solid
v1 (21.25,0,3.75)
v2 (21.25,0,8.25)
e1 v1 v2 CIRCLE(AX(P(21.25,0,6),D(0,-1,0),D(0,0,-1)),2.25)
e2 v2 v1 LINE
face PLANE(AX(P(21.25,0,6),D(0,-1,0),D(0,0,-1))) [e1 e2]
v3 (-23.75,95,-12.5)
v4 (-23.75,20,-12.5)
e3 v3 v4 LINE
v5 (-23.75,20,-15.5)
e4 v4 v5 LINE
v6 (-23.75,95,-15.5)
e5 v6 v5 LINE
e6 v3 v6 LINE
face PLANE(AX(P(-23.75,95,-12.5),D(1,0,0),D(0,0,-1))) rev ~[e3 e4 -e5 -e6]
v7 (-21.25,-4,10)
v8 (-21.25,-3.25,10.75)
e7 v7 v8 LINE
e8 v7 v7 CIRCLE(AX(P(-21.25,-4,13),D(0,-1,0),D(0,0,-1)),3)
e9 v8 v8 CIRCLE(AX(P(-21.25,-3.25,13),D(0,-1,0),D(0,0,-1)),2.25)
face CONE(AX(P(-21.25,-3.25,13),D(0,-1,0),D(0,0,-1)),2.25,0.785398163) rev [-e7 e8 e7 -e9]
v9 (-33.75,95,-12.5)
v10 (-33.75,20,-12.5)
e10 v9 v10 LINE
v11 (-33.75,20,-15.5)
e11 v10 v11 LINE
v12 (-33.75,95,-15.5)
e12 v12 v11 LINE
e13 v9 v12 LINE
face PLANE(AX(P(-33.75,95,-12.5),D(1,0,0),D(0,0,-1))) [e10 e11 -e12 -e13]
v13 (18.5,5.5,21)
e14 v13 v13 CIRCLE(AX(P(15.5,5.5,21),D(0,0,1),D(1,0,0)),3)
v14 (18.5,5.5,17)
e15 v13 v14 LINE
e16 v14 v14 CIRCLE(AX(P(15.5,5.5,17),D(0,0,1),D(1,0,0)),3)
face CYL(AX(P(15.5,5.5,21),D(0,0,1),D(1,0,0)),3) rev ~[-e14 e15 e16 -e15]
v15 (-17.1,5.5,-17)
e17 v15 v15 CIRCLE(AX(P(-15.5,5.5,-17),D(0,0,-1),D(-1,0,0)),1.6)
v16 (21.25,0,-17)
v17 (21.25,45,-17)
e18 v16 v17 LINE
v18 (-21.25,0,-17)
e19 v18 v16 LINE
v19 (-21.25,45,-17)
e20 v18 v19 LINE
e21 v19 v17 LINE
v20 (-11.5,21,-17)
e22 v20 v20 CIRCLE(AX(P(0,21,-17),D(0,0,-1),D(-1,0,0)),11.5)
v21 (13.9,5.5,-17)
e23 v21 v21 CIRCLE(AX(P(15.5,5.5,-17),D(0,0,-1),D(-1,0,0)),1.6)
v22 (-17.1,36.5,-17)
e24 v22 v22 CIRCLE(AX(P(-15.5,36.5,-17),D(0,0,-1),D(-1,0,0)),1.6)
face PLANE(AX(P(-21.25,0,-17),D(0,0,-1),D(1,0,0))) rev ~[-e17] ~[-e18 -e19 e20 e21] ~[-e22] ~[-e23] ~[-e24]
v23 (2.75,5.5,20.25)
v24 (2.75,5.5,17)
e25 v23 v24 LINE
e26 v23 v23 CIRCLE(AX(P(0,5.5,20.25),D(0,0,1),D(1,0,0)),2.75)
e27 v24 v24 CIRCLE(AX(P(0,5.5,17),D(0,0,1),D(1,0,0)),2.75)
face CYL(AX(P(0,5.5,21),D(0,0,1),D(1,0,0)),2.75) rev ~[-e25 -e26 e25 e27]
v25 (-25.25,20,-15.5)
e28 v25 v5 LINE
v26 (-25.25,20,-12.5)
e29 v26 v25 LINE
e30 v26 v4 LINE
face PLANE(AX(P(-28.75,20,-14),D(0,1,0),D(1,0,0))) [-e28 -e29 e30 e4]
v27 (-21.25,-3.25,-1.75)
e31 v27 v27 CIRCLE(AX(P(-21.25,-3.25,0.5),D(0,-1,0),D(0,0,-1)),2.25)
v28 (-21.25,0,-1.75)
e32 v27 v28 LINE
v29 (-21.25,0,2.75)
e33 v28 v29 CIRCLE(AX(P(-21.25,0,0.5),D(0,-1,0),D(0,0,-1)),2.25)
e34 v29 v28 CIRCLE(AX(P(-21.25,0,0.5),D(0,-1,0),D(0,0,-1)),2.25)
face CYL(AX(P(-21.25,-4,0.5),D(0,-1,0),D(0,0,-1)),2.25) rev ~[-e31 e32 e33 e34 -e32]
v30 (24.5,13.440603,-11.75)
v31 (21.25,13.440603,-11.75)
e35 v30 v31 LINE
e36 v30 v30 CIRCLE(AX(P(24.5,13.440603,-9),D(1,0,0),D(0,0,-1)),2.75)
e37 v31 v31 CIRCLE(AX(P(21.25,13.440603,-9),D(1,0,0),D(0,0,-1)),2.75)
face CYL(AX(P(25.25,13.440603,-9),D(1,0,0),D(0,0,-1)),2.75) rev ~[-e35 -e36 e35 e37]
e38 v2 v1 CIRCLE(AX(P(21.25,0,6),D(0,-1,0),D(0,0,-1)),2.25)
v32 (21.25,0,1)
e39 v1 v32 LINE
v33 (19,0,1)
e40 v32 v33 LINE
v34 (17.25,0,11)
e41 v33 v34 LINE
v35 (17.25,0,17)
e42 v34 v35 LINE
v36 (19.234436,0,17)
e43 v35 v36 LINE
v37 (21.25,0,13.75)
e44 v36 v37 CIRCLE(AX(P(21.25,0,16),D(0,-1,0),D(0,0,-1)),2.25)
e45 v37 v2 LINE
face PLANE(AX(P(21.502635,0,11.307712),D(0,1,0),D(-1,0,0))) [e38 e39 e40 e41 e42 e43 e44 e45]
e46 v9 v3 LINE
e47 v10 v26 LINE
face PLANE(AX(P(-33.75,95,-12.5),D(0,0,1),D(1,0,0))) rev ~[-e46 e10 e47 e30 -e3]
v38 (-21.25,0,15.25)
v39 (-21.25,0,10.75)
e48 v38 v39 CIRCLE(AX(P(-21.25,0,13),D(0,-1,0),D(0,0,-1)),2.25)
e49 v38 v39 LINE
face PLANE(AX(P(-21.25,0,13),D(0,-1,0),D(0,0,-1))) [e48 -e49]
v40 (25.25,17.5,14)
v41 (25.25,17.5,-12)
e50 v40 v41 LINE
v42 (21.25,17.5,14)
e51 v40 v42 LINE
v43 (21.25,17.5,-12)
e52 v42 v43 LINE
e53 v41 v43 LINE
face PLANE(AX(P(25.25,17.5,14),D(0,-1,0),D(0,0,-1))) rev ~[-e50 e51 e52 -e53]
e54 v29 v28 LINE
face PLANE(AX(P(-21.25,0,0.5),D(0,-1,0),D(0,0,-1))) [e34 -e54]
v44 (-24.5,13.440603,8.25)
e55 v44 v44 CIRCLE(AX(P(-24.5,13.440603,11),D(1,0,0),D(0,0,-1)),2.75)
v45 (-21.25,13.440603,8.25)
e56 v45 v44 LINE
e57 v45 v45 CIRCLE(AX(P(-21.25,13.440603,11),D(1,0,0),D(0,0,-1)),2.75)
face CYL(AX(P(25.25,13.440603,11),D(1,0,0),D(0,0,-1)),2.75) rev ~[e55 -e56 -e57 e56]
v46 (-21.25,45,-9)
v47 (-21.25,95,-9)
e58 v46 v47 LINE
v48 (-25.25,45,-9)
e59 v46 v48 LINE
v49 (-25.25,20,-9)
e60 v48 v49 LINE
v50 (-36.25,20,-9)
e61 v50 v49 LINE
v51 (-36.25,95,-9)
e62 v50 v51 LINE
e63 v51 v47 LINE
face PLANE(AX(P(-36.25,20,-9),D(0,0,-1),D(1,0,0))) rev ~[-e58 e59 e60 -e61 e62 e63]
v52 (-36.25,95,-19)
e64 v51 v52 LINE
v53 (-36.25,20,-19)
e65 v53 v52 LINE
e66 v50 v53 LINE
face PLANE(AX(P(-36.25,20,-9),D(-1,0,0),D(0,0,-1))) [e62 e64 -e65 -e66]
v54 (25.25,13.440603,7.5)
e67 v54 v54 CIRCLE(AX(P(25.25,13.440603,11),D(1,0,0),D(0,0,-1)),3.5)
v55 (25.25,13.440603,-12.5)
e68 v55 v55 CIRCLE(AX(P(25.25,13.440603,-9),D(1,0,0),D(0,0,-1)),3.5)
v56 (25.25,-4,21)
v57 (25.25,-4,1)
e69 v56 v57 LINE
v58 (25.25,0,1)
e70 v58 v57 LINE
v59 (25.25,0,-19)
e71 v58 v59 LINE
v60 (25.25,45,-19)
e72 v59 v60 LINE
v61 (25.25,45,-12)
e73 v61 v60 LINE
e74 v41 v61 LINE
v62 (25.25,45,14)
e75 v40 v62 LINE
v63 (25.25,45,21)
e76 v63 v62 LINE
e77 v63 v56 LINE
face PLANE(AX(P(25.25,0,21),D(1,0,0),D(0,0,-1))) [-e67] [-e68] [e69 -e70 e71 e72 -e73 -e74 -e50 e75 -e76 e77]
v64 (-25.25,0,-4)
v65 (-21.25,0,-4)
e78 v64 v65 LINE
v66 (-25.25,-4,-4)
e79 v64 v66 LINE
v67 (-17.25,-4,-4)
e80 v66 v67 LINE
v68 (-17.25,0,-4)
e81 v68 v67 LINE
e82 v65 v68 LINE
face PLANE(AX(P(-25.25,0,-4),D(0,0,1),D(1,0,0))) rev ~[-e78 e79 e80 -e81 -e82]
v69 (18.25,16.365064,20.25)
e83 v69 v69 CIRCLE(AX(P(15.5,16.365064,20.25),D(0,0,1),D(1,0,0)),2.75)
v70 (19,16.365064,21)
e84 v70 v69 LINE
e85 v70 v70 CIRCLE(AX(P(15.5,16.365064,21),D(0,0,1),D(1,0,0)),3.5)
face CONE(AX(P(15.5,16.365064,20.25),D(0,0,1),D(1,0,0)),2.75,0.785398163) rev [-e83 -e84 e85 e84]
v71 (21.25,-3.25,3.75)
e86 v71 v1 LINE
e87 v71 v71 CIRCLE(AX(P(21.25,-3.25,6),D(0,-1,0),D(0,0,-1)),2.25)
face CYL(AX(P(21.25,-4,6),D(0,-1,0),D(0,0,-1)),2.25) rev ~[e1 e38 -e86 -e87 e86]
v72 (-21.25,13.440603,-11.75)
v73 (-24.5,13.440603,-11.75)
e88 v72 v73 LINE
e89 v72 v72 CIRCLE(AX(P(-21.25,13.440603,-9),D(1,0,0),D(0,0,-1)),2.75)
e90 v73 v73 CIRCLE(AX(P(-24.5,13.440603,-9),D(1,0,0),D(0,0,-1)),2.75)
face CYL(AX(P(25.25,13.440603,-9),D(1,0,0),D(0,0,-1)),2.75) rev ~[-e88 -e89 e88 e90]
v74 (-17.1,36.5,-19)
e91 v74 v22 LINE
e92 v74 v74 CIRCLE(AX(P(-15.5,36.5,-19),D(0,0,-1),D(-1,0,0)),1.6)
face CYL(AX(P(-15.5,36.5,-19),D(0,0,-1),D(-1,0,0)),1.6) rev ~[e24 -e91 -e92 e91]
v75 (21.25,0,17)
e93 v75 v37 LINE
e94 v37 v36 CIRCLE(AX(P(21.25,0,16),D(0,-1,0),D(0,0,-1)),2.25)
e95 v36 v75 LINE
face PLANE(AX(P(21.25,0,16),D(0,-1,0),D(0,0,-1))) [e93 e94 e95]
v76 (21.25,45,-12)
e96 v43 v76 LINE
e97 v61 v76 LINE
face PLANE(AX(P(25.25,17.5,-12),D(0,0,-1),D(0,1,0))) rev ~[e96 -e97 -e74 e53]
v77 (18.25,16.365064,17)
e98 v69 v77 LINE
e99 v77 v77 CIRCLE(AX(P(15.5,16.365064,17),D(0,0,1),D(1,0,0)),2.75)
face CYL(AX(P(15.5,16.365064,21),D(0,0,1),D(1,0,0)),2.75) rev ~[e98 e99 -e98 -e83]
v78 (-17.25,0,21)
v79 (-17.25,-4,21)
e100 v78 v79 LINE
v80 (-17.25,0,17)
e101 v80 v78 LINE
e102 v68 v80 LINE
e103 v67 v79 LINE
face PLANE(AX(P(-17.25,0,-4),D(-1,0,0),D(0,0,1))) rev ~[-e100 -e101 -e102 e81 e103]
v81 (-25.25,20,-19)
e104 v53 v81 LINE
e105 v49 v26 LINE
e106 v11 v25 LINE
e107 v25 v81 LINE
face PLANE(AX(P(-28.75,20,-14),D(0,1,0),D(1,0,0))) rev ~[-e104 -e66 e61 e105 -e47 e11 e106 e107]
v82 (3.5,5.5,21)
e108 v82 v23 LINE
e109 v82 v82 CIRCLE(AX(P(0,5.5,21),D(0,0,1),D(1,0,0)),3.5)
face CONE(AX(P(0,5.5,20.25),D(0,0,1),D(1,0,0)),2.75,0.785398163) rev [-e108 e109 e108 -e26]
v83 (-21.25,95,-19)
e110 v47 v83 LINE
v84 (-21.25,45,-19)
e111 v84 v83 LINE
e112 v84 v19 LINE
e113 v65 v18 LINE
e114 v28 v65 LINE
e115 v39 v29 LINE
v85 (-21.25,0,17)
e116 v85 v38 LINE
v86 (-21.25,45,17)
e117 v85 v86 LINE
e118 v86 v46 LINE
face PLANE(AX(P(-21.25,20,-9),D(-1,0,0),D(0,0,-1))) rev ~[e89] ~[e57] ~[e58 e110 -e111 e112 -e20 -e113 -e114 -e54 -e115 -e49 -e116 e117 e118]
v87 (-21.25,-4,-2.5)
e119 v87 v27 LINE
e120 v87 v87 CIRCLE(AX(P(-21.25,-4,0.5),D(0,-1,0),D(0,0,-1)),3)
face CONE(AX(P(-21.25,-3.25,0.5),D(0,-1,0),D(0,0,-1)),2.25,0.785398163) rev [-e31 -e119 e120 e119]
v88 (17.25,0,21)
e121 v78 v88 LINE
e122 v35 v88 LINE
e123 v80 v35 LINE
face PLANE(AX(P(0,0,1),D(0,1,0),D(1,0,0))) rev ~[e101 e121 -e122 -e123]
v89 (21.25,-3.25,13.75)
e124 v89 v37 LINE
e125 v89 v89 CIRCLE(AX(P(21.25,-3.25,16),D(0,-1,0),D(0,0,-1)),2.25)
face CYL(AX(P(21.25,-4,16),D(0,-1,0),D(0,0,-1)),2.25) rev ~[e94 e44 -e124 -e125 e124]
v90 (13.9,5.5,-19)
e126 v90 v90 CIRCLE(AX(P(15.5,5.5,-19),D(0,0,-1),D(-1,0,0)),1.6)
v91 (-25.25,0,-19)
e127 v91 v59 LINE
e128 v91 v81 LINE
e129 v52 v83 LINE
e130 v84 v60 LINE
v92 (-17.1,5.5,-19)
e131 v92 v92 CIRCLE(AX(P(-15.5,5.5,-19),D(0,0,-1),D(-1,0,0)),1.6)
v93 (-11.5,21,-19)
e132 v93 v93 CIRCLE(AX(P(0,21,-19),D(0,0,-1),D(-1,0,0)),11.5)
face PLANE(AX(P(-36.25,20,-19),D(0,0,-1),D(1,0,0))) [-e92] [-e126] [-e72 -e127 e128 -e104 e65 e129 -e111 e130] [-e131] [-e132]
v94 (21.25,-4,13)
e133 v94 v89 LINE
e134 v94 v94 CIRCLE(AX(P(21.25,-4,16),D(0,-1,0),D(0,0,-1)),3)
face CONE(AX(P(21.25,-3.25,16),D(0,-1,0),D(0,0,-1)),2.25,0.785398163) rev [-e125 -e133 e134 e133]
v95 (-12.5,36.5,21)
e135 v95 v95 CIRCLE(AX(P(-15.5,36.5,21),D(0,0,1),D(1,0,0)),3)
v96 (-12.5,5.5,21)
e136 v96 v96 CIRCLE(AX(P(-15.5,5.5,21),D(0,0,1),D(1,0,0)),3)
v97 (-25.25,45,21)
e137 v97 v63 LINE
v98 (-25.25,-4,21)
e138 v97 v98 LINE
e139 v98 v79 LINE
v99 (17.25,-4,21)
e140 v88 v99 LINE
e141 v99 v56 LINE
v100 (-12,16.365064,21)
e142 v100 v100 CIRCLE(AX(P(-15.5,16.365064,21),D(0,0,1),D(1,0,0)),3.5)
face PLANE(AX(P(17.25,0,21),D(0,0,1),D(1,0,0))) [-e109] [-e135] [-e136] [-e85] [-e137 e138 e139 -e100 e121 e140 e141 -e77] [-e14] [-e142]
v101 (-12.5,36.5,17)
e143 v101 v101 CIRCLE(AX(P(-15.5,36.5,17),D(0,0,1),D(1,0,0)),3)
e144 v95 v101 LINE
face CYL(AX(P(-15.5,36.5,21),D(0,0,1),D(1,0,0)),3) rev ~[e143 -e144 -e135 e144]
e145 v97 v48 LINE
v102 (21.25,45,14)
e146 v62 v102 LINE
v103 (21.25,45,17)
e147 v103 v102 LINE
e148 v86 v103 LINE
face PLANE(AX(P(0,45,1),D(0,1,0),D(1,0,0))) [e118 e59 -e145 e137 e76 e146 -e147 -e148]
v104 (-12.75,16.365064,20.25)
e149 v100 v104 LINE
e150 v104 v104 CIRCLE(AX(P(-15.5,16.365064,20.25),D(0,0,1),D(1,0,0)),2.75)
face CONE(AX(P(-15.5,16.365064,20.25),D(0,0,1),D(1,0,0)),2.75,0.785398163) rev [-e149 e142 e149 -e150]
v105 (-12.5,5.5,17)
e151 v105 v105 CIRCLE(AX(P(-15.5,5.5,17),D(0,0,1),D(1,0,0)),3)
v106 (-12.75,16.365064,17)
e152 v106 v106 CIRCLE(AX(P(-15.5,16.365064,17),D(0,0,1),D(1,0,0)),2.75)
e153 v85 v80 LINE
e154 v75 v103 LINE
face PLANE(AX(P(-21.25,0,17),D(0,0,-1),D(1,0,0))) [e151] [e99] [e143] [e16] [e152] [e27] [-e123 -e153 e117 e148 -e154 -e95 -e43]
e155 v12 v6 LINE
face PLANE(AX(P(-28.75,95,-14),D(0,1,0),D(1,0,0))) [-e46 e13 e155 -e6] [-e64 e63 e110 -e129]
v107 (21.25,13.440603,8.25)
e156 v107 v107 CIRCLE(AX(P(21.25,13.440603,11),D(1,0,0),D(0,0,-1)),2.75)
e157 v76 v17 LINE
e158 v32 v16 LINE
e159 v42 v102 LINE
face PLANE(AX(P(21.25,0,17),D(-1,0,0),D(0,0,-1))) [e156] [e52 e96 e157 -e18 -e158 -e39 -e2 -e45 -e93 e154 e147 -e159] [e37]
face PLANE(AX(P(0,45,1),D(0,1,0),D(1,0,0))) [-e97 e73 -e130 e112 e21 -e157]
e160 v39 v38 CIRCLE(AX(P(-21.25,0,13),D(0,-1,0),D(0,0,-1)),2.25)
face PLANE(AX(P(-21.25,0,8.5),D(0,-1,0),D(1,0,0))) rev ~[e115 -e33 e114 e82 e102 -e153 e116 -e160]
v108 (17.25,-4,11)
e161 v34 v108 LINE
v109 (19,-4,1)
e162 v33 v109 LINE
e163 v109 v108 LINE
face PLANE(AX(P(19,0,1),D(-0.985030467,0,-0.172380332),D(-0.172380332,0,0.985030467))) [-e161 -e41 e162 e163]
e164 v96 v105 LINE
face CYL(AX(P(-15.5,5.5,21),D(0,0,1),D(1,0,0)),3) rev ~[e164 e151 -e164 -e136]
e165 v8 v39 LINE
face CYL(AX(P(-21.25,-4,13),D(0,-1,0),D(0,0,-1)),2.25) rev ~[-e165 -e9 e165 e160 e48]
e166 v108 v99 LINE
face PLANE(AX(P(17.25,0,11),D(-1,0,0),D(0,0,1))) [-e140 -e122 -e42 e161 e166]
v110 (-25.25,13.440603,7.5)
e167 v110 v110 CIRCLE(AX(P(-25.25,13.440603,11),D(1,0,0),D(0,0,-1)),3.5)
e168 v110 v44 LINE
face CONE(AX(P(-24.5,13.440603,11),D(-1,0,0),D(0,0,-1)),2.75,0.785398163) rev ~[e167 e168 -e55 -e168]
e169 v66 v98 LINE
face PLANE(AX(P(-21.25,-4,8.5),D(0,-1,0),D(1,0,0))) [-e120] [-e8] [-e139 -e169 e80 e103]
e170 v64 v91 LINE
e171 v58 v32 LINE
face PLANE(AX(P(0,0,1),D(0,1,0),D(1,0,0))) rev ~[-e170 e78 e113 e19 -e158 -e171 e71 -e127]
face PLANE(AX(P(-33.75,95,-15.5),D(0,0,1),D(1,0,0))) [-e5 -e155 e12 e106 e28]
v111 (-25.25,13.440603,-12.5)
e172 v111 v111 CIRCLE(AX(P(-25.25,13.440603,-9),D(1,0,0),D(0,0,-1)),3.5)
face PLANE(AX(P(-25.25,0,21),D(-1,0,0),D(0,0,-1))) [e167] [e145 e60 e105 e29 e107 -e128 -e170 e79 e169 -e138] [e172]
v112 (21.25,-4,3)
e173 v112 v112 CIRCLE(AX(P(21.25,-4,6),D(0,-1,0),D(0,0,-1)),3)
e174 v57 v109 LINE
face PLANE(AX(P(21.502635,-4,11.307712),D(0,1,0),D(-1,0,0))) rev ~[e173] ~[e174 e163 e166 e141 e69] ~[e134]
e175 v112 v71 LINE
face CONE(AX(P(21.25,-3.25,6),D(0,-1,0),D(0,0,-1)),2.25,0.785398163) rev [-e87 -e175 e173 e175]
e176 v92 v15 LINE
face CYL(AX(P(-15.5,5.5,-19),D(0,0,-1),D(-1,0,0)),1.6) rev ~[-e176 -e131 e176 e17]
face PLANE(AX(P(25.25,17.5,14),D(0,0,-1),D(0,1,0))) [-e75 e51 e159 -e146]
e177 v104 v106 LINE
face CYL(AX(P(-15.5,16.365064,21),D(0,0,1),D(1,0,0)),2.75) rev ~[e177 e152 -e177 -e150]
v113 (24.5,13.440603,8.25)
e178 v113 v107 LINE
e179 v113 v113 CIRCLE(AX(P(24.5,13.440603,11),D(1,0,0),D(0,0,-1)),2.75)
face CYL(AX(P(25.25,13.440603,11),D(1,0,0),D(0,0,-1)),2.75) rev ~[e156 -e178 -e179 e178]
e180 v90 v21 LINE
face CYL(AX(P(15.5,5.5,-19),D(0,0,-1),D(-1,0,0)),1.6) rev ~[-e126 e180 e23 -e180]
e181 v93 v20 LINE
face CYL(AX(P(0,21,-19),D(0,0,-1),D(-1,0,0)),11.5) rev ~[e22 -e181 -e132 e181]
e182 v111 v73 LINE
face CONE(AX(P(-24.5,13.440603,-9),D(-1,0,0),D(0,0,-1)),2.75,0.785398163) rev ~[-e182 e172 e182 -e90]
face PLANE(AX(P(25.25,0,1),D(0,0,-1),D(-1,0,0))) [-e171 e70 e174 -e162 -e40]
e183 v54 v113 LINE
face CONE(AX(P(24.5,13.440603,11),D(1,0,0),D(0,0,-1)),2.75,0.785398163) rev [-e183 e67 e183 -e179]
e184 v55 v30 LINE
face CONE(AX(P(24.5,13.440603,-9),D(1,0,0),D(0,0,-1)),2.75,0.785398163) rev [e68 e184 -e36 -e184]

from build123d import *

# Parameters (mm, degrees)
SKETCH2_W                = 50.5
SKETCH2_H                = 40
SKETCH2_W_2              = 42.5
SKETCH2_H_2              = 34
BOSS_EXTRUDE1_DEPTH      = 45
CUT_EXTRUDE1_REACH       = 72.825
SKETCH3_W                = 26
SKETCH3_H                = 27.5
CUT_EXTRUDE2_REACH       = 67.288
SKETCH4_R                = 11.5
SKETCH4_R_2              = 1.6
CUT_EXTRUDE3_REACH       = 67.288
SKETCH5_R                = 3
CUT_EXTRUDE4_REACH       = 67.288
SKETCH6_R                = 2.75
SKETCH7_R                = 2.75
CUT_EXTRUDE5_DEPTH       = 71.825489762
SKETCH8_W                = 8
SKETCH8_H                = 25
BOSS_EXTRUDE2_DEPTH      = 4
SKETCH9_R                = 2.25
CUT_EXTRUDE6_DEPTH       = 4
CHAMFER1_SIZE            = 0.75
BOSS_EXTRUDE3_DEPTH      = 50
BOSS_EXTRUDE3_DEPTH_BACK = 25
SKETCH10_W               = 15
SKETCH10_H               = 10
SKETCH11_W               = 10
SKETCH11_H               = 3
CUT_EXTRUDE7_DEPTH       = 75


with BuildPart() as part:
    # Sketch2 → Boss-Extrude1 (new body)
    with BuildSketch(Plane(origin=(0, 0, 0), x_dir=(1, 0, 0), z_dir=(0, 1, 0))):
        with Locations((0, -1)):
            Rectangle(SKETCH2_W, SKETCH2_H)
        Rectangle(SKETCH2_W_2, SKETCH2_H_2, mode=Mode.SUBTRACT)
    extrude(amount=BOSS_EXTRUDE1_DEPTH)

    # Sketch3 → Cut-Extrude1 (cut, up to next)
    with BuildSketch(Plane(origin=(25.25, 0, 0), x_dir=(0, 0, -1), z_dir=(1, 0, 0)), mode=Mode.PRIVATE) as cut_extrude1_sk1:
        with Locations((-1, 31.25)):
            Rectangle(SKETCH3_W, SKETCH3_H)
    cut_extrude1_tool1 = extrude(cut_extrude1_sk1.sketch, amount=-CUT_EXTRUDE1_REACH, mode=Mode.PRIVATE) & part.part
    add(cut_extrude1_tool1.solids().sort_by_distance((25.25, 31.25, 1))[0], mode=Mode.SUBTRACT)

    # Sketch4 → Cut-Extrude2 (cut, up to next)
    with BuildSketch(Plane(origin=(0, 0, -19), x_dir=(-1, 0, 0), z_dir=(0, 0, -1)), mode=Mode.PRIVATE) as cut_extrude2_sk1:
        with Locations((0, 21)):
            Circle(SKETCH4_R)
    cut_extrude2_tool1 = extrude(cut_extrude2_sk1.sketch, amount=-CUT_EXTRUDE2_REACH, mode=Mode.PRIVATE) & part.part
    # Sketch4 → Cut-Extrude2 (cut, up to next)
    with BuildSketch(Plane(origin=(0, 0, -19), x_dir=(-1, 0, 0), z_dir=(0, 0, -1)), mode=Mode.PRIVATE) as cut_extrude2_sk2:
        with Locations((-15.5, 5.5)):
            Circle(SKETCH4_R_2)
    cut_extrude2_tool2 = extrude(cut_extrude2_sk2.sketch, amount=-CUT_EXTRUDE2_REACH, mode=Mode.PRIVATE) & part.part
    # Sketch4 → Cut-Extrude2 (cut, up to next)
    with BuildSketch(Plane(origin=(0, 0, -19), x_dir=(-1, 0, 0), z_dir=(0, 0, -1)), mode=Mode.PRIVATE) as cut_extrude2_sk3:
        with Locations((15.5, 5.5)):
            Circle(SKETCH4_R_2)
    cut_extrude2_tool3 = extrude(cut_extrude2_sk3.sketch, amount=-CUT_EXTRUDE2_REACH, mode=Mode.PRIVATE) & part.part
    # Sketch4 → Cut-Extrude2 (cut, up to next)
    with BuildSketch(Plane(origin=(0, 0, -19), x_dir=(-1, 0, 0), z_dir=(0, 0, -1)), mode=Mode.PRIVATE) as cut_extrude2_sk4:
        with Locations((15.5, 36.5)):
            Circle(SKETCH4_R_2)
    cut_extrude2_tool4 = extrude(cut_extrude2_sk4.sketch, amount=-CUT_EXTRUDE2_REACH, mode=Mode.PRIVATE) & part.part
    add(cut_extrude2_tool1.solids().sort_by_distance((0, 21, -19))[0], mode=Mode.SUBTRACT)
    add(cut_extrude2_tool2.solids().sort_by_distance((15.5, 5.5, -19))[0], mode=Mode.SUBTRACT)
    add(cut_extrude2_tool3.solids().sort_by_distance((-15.5, 5.5, -19))[0], mode=Mode.SUBTRACT)
    add(cut_extrude2_tool4.solids().sort_by_distance((-15.5, 36.5, -19))[0], mode=Mode.SUBTRACT)

    # Sketch5 → Cut-Extrude3 (cut, up to next)
    with BuildSketch(Plane.XY.offset(21), mode=Mode.PRIVATE) as cut_extrude3_sk1:
        with Locations((-15.5, 36.5)):
            Circle(SKETCH5_R)
    cut_extrude3_tool1 = extrude(cut_extrude3_sk1.sketch, amount=-CUT_EXTRUDE3_REACH, mode=Mode.PRIVATE) & part.part
    # Sketch5 → Cut-Extrude3 (cut, up to next)
    with BuildSketch(Plane.XY.offset(21), mode=Mode.PRIVATE) as cut_extrude3_sk2:
        with Locations((-15.5, 5.5)):
            Circle(SKETCH5_R)
    cut_extrude3_tool2 = extrude(cut_extrude3_sk2.sketch, amount=-CUT_EXTRUDE3_REACH, mode=Mode.PRIVATE) & part.part
    # Sketch5 → Cut-Extrude3 (cut, up to next)
    with BuildSketch(Plane.XY.offset(21), mode=Mode.PRIVATE) as cut_extrude3_sk3:
        with Locations((15.5, 5.5)):
            Circle(SKETCH5_R)
    cut_extrude3_tool3 = extrude(cut_extrude3_sk3.sketch, amount=-CUT_EXTRUDE3_REACH, mode=Mode.PRIVATE) & part.part
    add(cut_extrude3_tool1.solids().sort_by_distance((-15.5, 36.5, 21))[0], mode=Mode.SUBTRACT)
    add(cut_extrude3_tool2.solids().sort_by_distance((-15.5, 5.5, 21))[0], mode=Mode.SUBTRACT)
    add(cut_extrude3_tool3.solids().sort_by_distance((15.5, 5.5, 21))[0], mode=Mode.SUBTRACT)

    # Sketch6 → Cut-Extrude4 (cut, up to next)
    with BuildSketch(Plane.XY.offset(21), mode=Mode.PRIVATE) as cut_extrude4_sk1:
        with Locations((-15.5, 16.365063509)):
            Circle(SKETCH6_R)
    cut_extrude4_tool1 = extrude(cut_extrude4_sk1.sketch, amount=-CUT_EXTRUDE4_REACH, mode=Mode.PRIVATE) & part.part
    # Sketch6 → Cut-Extrude4 (cut, up to next)
    with BuildSketch(Plane.XY.offset(21), mode=Mode.PRIVATE) as cut_extrude4_sk2:
        with Locations((0, 5.5)):
            Circle(SKETCH6_R)
    cut_extrude4_tool2 = extrude(cut_extrude4_sk2.sketch, amount=-CUT_EXTRUDE4_REACH, mode=Mode.PRIVATE) & part.part
    # Sketch6 → Cut-Extrude4 (cut, up to next)
    with BuildSketch(Plane.XY.offset(21), mode=Mode.PRIVATE) as cut_extrude4_sk3:
        with Locations((15.5, 16.365063509)):
            Circle(SKETCH6_R)
    cut_extrude4_tool3 = extrude(cut_extrude4_sk3.sketch, amount=-CUT_EXTRUDE4_REACH, mode=Mode.PRIVATE) & part.part
    add(cut_extrude4_tool1.solids().sort_by_distance((-15.5, 16.365064, 21))[0], mode=Mode.SUBTRACT)
    add(cut_extrude4_tool2.solids().sort_by_distance((0, 5.5, 21))[0], mode=Mode.SUBTRACT)
    add(cut_extrude4_tool3.solids().sort_by_distance((15.5, 16.365064, 21))[0], mode=Mode.SUBTRACT)

    # Sketch7 → Cut-Extrude5 (cut, through all)
    with BuildSketch(Plane(origin=(25.25, 0, 0), x_dir=(0, 0, -1), z_dir=(1, 0, 0))):
        with Locations((-11, 13.440603491)):
            Circle(SKETCH7_R)
        with Locations((9, 13.440603491)):
            Circle(SKETCH7_R)
    extrude(amount=-CUT_EXTRUDE5_DEPTH, mode=Mode.SUBTRACT)

    # Sketch8 → Boss-Extrude2 (add)
    with BuildSketch(Plane.XZ):
        Polygon((19, 1), (17.25, 11), (17.25, 21), (25.25, 21), (25.25, 1), align=None)
        with Locations((-21.25, 8.5)):
            Rectangle(SKETCH8_W, SKETCH8_H)
    extrude(amount=BOSS_EXTRUDE2_DEPTH)

    # Sketch9 → Cut-Extrude6 (cut)
    with BuildSketch(Plane.XZ.offset(4)):
        with Locations(Location((-21.25, 13, 0), (0, 0, 270))):
            Circle(SKETCH9_R)
        with Locations(Location((-21.25, 0.5, 0), (0, 0, 270))):
            Circle(SKETCH9_R)
        with Locations(Location((21.25, 6, 0), (0, 0, 270))):
            Circle(SKETCH9_R)
        with Locations(Location((21.25, 16, 0), (0, 0, 270))):
            Circle(SKETCH9_R)
    extrude(amount=-CUT_EXTRUDE6_DEPTH, mode=Mode.SUBTRACT)

    # Chamfer1
    chamfer1_edges = [part.edges().sort_by_distance(p)[0] for p in [
        (21.25, -4, 18.25),
        (21.25, -4, 8.25),
        (-21.25, -4, 2.75),
        (-21.25, -4, 15.25),
        (-18.25, 16.365063509, 21),
        (-2.75, 5.5, 21),
        (12.75, 16.365063509, 21),
        (-25.25, 13.440603491, 13.75),
        (25.25, 13.440603491, 13.75),
        (-25.25, 13.440603491, -6.25),
        (25.25, 13.440603491, -6.25),
    ]]
    chamfer(chamfer1_edges, length=CHAMFER1_SIZE)

    # Sketch10 → Boss-Extrude3 (add, two sides: drawn at the far end of the back side and taken through both)
    with BuildSketch(Plane(origin=(0, 45, 0), x_dir=(1, 0, 0), z_dir=(0, 1, 0)).offset(-BOSS_EXTRUDE3_DEPTH_BACK)):
        with Locations((-28.75, 14)):
            Rectangle(SKETCH10_W, SKETCH10_H)
    extrude(amount=BOSS_EXTRUDE3_DEPTH + BOSS_EXTRUDE3_DEPTH_BACK)

    # Sketch11 → Cut-Extrude7 (cut)
    with BuildSketch(Plane(origin=(0, 95, 0), x_dir=(1, 0, 0), z_dir=(0, 1, 0))):
        with Locations((-28.75, 14)):
            Rectangle(SKETCH11_W, SKETCH11_H)
    extrude(amount=-CUT_EXTRUDE7_DEPTH, mode=Mode.SUBTRACT)


solid = part.part
